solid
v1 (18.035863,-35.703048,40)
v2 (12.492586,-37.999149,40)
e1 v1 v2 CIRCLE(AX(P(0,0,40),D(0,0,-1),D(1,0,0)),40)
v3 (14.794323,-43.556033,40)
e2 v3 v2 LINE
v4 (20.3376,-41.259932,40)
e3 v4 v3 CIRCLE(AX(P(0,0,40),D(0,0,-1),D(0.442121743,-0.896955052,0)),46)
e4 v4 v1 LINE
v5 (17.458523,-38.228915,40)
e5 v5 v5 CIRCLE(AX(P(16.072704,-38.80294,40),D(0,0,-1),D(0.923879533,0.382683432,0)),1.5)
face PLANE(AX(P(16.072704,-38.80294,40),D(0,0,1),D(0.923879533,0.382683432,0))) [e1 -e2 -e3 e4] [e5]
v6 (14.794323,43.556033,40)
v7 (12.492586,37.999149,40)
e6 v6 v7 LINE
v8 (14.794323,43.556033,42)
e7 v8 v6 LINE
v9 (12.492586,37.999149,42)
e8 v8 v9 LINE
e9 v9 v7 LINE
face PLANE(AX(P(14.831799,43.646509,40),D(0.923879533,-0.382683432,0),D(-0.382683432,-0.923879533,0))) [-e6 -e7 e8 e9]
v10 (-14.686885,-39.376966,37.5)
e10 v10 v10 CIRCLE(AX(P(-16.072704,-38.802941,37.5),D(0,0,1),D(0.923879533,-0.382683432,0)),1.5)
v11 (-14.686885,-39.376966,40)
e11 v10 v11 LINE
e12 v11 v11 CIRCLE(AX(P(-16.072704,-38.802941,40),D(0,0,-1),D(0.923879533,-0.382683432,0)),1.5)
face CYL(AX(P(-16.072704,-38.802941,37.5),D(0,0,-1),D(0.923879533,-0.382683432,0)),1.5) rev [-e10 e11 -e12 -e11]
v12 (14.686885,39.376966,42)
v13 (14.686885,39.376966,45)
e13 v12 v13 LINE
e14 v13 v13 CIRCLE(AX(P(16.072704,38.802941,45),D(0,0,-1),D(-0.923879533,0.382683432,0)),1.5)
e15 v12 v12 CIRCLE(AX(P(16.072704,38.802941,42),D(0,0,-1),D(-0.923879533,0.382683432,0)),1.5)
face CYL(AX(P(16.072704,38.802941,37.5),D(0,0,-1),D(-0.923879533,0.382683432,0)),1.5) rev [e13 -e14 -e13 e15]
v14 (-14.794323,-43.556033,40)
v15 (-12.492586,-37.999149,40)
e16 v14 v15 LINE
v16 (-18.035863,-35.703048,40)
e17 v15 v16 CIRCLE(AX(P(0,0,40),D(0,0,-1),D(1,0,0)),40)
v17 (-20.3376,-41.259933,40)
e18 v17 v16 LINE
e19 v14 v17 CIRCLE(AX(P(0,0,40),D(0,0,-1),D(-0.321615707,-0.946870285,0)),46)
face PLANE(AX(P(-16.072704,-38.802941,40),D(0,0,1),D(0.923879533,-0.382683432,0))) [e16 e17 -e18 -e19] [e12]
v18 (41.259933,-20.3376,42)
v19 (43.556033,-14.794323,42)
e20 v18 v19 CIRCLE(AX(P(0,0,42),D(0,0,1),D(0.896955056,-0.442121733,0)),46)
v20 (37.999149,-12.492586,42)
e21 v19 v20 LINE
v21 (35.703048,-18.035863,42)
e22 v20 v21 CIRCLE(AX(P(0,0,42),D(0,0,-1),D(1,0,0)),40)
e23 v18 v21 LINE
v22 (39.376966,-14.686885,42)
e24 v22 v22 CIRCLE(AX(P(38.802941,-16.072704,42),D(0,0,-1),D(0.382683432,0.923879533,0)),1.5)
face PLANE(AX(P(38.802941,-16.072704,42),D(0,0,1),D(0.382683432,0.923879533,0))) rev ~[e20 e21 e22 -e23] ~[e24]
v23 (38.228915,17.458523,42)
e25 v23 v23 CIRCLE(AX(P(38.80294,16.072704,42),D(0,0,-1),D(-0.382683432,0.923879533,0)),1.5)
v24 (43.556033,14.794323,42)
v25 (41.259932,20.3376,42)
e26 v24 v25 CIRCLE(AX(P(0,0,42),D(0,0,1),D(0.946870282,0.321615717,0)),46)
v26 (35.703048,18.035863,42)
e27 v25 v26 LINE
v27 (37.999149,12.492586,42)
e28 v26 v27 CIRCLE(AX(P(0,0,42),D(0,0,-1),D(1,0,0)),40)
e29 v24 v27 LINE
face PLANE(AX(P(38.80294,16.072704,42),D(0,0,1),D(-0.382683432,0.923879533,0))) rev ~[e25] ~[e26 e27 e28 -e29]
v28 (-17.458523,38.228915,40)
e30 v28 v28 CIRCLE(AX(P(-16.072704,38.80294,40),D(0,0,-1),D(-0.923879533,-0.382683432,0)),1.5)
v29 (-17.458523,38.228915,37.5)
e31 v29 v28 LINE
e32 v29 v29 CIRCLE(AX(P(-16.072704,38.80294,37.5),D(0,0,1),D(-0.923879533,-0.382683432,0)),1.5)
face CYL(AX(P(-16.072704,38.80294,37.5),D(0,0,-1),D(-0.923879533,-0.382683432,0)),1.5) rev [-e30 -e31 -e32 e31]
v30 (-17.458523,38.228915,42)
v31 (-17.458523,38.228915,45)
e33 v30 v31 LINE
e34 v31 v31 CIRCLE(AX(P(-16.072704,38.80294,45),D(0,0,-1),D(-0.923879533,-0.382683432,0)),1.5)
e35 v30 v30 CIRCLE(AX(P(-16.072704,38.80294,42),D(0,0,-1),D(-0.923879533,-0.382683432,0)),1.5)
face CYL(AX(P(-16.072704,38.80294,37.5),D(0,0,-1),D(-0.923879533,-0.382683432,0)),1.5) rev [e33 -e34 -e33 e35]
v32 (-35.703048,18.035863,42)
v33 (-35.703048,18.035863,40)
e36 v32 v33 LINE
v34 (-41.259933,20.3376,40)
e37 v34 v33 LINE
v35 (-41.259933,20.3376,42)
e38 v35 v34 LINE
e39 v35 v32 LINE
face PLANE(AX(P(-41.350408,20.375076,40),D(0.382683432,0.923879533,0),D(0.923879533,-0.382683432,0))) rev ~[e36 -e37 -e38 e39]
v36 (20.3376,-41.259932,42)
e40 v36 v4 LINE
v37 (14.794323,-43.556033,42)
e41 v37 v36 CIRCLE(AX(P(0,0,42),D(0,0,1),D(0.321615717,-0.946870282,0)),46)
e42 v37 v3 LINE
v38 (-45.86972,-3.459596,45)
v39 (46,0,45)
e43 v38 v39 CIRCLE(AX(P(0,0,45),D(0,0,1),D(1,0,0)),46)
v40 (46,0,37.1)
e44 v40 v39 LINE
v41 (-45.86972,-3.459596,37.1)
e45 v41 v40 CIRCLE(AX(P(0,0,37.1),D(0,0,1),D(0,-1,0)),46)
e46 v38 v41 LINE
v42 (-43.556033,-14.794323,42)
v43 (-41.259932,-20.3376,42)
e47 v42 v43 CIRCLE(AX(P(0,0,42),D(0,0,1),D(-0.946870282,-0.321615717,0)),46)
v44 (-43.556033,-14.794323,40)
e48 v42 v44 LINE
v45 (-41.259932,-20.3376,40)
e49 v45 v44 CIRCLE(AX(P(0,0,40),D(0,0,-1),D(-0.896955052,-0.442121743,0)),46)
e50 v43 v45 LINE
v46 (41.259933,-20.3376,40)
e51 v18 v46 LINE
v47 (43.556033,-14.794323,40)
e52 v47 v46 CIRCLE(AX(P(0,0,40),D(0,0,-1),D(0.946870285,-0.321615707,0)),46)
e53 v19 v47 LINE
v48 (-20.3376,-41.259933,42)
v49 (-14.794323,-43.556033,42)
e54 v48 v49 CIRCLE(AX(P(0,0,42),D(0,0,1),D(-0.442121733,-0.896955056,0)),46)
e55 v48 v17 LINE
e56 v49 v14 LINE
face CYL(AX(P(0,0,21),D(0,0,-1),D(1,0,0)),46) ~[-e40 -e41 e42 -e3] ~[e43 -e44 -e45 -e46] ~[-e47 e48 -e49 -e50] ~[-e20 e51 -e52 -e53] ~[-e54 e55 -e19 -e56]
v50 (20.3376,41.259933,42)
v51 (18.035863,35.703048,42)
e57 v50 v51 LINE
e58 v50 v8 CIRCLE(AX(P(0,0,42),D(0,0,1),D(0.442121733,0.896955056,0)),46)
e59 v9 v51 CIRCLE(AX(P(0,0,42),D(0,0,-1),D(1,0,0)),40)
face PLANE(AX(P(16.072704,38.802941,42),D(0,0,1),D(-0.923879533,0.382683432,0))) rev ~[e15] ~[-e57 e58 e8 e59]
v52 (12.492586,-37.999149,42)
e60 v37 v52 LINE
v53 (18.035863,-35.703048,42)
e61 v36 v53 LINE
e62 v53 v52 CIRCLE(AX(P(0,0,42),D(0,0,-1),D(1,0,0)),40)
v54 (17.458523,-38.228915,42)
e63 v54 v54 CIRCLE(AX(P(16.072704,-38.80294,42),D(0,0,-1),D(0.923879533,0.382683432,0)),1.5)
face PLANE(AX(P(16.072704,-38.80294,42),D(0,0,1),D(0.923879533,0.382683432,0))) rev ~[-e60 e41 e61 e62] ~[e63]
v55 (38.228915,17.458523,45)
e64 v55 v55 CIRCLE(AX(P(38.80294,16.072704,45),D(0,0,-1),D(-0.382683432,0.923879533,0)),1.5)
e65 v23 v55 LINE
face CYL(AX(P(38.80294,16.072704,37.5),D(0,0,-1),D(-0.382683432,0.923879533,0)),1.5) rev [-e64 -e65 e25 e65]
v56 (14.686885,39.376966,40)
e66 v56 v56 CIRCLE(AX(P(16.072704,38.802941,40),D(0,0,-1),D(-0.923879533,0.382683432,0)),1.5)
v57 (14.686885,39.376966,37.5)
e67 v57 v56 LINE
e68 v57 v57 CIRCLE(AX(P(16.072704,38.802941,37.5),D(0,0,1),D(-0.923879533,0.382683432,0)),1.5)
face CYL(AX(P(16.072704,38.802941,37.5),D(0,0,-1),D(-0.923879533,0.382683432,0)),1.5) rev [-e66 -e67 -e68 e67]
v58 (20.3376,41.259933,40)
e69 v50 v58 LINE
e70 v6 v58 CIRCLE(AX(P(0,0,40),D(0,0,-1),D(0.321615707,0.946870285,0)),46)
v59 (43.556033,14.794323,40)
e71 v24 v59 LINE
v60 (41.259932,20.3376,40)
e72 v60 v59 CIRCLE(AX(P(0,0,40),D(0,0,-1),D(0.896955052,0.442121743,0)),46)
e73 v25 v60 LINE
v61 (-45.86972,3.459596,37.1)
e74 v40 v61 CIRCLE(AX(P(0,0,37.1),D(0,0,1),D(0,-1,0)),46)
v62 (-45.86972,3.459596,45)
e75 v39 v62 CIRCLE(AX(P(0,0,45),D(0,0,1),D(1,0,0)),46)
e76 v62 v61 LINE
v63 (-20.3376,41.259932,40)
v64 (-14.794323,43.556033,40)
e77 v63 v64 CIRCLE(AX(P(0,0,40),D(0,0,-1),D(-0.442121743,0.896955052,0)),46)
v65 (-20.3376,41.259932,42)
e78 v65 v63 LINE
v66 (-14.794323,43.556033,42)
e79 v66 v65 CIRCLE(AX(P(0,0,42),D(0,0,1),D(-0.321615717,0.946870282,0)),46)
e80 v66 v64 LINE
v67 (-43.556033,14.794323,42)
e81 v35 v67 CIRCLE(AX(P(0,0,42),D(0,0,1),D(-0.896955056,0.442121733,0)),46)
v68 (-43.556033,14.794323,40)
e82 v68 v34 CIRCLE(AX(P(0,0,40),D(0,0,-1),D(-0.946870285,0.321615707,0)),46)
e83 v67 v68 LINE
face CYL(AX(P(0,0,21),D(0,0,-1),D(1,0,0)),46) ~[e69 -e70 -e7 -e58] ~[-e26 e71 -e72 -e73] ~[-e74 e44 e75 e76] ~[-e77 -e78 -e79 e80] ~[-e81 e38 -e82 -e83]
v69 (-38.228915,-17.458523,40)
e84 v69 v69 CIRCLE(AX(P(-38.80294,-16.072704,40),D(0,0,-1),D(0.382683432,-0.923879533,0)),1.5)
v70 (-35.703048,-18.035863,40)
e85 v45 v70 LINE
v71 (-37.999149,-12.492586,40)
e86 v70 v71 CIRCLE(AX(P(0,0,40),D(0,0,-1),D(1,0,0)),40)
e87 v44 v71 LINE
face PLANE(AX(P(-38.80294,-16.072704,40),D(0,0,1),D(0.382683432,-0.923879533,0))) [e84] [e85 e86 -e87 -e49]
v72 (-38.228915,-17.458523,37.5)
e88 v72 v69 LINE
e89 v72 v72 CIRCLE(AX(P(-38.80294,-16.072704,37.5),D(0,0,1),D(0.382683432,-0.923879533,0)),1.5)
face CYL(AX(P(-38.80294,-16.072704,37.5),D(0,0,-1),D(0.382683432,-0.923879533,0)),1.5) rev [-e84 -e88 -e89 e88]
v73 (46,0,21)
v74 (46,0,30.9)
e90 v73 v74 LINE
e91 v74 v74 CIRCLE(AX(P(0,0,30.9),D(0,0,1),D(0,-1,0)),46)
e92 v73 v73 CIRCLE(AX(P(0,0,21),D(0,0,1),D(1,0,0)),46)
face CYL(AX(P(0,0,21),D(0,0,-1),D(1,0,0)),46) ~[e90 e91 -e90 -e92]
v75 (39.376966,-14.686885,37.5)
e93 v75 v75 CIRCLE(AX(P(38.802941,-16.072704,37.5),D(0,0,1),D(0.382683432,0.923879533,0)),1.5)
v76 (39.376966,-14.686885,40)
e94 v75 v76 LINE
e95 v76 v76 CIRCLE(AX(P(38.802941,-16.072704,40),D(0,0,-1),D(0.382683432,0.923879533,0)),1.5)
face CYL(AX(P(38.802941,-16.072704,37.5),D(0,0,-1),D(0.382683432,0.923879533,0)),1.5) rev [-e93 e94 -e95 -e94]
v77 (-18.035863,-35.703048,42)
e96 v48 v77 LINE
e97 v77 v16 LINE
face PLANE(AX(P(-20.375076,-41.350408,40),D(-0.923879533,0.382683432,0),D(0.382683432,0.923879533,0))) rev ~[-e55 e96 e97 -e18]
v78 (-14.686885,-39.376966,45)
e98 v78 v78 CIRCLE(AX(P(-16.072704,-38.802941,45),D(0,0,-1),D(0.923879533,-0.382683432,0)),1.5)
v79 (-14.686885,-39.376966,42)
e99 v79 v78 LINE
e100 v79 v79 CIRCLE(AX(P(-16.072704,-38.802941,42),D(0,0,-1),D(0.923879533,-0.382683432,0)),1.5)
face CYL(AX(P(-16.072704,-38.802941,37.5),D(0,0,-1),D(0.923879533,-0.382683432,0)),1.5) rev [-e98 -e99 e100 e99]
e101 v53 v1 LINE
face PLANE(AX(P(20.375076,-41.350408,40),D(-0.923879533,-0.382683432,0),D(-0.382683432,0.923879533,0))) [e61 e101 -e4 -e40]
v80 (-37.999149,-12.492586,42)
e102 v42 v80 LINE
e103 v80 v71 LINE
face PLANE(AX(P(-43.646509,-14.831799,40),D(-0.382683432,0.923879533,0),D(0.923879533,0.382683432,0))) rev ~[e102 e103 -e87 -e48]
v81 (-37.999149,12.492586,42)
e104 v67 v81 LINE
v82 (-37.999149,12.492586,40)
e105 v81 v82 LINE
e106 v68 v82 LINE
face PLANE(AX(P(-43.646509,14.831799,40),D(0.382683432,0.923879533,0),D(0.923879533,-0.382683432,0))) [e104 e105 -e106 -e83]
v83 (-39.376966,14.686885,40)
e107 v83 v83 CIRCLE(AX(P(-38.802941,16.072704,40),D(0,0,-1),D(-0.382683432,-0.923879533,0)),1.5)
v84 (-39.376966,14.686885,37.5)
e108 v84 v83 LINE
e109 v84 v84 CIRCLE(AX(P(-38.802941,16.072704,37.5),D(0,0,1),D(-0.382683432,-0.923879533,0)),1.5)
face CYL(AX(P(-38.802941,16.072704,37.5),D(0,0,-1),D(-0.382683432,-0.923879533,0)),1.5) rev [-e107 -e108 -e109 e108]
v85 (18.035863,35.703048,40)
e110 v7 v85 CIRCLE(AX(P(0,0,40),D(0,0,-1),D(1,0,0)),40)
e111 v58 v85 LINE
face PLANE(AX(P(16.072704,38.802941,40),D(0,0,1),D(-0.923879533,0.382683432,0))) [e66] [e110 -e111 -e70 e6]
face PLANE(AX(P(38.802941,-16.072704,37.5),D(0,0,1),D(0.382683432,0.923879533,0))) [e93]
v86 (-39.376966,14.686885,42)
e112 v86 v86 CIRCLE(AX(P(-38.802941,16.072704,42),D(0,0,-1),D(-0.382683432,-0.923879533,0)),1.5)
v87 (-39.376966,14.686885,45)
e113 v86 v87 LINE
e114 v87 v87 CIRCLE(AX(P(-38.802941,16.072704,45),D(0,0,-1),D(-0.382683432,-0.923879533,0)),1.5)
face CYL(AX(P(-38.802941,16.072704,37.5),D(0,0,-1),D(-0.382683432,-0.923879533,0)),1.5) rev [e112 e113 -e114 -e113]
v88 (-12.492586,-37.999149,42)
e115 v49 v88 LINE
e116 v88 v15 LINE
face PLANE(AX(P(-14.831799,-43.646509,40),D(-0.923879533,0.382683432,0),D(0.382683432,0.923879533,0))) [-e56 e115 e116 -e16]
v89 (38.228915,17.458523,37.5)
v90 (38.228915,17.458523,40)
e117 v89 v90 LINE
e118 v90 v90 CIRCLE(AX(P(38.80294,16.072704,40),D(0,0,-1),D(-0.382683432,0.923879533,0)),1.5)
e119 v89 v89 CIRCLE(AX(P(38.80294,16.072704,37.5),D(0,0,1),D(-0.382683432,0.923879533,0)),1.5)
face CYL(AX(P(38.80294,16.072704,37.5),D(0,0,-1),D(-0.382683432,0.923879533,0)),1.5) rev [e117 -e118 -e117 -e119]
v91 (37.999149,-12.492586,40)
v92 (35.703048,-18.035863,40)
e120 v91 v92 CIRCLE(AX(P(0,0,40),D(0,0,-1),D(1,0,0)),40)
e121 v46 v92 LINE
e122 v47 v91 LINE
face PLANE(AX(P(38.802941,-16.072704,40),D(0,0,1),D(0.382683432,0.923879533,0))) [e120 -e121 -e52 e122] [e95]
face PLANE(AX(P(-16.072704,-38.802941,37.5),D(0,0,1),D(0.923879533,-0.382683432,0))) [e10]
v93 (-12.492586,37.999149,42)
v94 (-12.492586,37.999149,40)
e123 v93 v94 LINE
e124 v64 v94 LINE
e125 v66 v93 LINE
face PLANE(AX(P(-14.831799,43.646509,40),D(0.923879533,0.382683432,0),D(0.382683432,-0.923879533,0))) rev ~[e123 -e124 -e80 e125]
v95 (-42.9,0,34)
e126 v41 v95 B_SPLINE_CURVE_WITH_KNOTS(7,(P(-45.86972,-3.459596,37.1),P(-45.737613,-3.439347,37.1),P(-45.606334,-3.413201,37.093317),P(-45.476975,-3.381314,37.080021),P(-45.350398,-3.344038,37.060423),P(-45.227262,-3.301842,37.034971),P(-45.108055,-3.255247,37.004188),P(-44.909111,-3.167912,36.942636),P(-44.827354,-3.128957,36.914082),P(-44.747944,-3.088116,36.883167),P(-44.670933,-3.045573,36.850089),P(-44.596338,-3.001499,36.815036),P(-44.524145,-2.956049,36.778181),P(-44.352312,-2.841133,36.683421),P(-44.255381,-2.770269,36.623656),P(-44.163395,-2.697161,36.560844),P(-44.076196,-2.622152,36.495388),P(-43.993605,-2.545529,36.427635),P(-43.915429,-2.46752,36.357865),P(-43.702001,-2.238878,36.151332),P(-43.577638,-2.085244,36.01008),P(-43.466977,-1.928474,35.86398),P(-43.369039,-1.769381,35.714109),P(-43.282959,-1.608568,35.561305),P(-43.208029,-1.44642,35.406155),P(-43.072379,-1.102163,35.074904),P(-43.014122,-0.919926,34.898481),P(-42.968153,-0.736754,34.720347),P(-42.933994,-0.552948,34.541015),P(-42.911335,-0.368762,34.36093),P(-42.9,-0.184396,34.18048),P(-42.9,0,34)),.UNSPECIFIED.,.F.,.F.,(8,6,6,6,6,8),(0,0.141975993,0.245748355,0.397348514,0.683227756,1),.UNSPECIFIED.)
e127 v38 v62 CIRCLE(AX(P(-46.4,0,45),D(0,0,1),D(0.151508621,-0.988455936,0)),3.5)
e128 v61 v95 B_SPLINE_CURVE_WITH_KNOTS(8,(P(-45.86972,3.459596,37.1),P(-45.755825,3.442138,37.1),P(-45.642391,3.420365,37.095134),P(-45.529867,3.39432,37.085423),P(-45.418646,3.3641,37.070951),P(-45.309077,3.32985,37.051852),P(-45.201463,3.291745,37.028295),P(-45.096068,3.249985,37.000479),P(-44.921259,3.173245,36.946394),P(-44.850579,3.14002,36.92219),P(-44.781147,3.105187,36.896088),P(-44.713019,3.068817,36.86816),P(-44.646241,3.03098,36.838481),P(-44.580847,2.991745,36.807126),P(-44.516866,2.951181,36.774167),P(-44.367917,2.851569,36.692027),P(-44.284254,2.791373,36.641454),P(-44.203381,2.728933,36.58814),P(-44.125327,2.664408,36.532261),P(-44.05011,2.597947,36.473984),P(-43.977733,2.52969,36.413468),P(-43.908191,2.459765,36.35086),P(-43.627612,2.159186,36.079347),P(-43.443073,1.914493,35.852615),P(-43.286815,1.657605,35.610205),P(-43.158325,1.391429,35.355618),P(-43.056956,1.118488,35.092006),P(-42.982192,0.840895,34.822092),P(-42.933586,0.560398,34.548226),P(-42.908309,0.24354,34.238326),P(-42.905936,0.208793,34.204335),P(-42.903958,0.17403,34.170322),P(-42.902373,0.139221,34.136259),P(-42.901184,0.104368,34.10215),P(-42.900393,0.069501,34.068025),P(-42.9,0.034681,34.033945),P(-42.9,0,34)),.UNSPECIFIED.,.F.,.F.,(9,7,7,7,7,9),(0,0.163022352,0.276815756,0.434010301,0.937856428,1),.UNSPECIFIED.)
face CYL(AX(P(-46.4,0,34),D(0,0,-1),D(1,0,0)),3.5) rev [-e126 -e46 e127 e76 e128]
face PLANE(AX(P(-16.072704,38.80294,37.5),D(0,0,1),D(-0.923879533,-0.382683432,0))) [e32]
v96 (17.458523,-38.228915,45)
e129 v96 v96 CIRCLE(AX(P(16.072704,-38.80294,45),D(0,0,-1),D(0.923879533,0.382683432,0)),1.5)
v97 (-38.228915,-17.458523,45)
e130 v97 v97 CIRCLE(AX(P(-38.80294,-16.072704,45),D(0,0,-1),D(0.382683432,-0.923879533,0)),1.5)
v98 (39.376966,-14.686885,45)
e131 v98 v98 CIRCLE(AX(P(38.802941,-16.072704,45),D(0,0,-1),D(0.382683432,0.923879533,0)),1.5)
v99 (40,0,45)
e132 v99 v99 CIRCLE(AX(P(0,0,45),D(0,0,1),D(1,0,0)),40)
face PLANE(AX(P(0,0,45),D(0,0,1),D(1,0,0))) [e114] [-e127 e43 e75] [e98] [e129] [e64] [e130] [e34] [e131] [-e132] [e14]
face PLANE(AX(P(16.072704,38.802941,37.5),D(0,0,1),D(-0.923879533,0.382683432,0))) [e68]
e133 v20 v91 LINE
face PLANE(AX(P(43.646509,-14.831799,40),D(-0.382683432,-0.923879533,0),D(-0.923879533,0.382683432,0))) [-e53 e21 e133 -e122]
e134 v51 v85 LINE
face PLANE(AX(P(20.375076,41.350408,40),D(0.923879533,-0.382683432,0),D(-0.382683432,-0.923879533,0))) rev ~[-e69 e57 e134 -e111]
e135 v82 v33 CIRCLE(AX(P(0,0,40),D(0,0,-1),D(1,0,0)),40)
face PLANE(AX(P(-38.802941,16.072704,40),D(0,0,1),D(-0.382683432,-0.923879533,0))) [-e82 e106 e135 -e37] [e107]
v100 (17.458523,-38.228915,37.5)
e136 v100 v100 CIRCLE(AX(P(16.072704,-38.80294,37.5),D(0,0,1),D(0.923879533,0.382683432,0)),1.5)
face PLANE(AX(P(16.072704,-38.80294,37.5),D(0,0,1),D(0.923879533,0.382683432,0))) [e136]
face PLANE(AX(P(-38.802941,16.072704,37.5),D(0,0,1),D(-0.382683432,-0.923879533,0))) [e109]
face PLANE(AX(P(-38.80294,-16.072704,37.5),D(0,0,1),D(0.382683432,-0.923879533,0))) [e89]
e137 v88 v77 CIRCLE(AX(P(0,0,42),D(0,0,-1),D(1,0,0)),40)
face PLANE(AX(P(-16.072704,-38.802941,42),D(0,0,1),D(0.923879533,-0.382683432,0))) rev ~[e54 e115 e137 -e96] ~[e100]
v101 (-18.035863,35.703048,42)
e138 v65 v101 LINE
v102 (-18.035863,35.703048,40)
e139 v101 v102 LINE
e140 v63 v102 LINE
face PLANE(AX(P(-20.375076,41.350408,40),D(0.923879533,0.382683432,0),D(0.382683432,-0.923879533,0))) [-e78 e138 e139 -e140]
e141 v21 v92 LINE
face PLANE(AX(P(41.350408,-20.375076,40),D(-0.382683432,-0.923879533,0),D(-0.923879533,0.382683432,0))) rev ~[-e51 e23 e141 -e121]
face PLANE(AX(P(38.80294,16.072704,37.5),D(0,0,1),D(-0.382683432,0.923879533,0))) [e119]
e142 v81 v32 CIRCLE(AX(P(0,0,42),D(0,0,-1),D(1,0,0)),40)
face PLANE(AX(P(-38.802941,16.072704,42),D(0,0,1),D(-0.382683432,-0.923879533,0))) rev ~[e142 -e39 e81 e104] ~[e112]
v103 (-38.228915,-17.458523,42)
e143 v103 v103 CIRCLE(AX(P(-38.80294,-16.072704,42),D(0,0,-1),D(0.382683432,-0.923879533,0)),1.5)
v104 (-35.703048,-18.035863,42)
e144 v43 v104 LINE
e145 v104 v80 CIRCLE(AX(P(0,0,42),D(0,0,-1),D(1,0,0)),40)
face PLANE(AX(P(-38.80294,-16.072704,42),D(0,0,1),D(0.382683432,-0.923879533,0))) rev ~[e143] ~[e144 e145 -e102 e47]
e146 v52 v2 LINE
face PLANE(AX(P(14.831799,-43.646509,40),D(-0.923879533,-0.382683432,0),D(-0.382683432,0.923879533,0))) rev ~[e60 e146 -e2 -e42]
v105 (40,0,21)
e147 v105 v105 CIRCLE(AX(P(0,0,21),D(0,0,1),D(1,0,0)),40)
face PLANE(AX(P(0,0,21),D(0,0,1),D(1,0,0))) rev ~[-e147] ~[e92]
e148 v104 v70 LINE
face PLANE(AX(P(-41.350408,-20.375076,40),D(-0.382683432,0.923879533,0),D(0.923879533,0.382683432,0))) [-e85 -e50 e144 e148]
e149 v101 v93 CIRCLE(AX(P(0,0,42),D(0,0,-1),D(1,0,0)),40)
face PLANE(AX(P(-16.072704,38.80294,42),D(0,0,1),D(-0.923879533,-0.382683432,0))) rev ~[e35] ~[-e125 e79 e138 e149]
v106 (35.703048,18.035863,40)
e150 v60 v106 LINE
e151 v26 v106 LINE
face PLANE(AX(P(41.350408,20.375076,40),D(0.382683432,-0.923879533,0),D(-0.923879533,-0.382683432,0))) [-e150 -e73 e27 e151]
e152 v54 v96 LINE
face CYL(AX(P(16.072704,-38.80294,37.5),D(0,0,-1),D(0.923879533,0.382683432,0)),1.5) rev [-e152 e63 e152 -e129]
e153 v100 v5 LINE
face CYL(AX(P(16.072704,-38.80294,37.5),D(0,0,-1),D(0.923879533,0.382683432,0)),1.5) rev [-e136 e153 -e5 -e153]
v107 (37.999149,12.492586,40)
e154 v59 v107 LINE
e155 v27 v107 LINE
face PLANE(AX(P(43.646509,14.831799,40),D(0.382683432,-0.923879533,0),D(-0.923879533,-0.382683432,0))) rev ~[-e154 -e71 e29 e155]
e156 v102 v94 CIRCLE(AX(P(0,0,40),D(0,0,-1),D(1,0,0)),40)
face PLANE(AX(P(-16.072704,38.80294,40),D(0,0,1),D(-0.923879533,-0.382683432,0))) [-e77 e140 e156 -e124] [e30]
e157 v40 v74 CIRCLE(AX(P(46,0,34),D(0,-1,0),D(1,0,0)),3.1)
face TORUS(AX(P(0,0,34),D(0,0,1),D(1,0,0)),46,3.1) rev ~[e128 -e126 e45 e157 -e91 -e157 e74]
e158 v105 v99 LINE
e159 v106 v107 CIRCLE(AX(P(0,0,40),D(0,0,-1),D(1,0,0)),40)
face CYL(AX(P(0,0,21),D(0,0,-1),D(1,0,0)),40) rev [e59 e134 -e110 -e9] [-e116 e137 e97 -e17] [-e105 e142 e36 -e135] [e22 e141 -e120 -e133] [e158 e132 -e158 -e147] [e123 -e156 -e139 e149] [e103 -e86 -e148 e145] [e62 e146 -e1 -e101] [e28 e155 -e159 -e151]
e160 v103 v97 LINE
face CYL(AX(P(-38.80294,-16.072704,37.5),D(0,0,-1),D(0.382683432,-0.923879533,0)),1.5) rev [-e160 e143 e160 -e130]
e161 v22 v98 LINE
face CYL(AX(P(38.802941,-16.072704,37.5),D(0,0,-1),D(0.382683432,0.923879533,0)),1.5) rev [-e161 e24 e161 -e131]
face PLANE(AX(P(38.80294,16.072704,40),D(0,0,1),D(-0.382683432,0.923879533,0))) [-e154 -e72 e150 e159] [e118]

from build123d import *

# Parameters (mm, degrees)
BOX445_W                     = 6
BOX445_H                     = 8
BOX445_DEPTH                 = 2
BOX445_PLACEMENT_ANGLE       = 45
BOX443_W                     = 6
BOX443_H                     = 8
BOX443_DEPTH                 = 2
BOX442_W                     = 6
BOX442_H                     = 8
BOX442_DEPTH                 = 2
BOX447_W                     = 6
BOX447_H                     = 8
BOX447_DEPTH                 = 2
BOX447_PLACEMENT_ANGLE       = 135
BOX446_W                     = 6
BOX446_H                     = 8
BOX446_DEPTH                 = 2
BOX441_W                     = 6
BOX441_H                     = 8
BOX441_DEPTH                 = 2
BOX441_PLACEMENT_ANGLE       = 225
BOX444_W                     = 6
BOX444_H                     = 8
BOX444_DEPTH                 = 2
BOX437_W                     = 6
BOX437_H                     = 8
BOX437_DEPTH                 = 2
BOX437_PLACEMENT_ANGLE       = 45
COMPOUND869_PLACEMENT_ANGLE  = 22.5
CYLINDER1133_R               = 1.5
CYLINDER1133_DEPTH           = 32
CYLINDER1133_PLACEMENT_ANGLE = 45
CYLINDER1132_R               = 1.5
CYLINDER1132_DEPTH           = 32
CYLINDER1131_R               = 1.5
CYLINDER1131_DEPTH           = 32
CYLINDER1131_PLACEMENT_ANGLE = 135
CYLINDER1123_R               = 1.5
CYLINDER1123_DEPTH           = 32
CYLINDER1129_R               = 1.5
CYLINDER1129_DEPTH           = 32
CYLINDER1129_PLACEMENT_ANGLE = 225
CYLINDER1130_R               = 1.5
CYLINDER1130_DEPTH           = 32
CYLINDER1118_R               = 1.5
CYLINDER1118_DEPTH           = 32
CYLINDER1118_PLACEMENT_ANGLE = 45
CYLINDER1121_R               = 1.5
CYLINDER1121_DEPTH           = 32
COMPOUND871_PLACEMENT_ANGLE  = 22.5
CYLINDER1114_R               = 3.5
CYLINDER1114_DEPTH           = 20
TORUS009_R                   = 3.1
TUBE100_R                    = 46
TUBE100_R_2                  = 40
TUBE100_DEPTH                = 24


with BuildPart() as krychle445:
    # Box445 → Box445 (new body)
    with BuildSketch(Plane.XY):
        with Locations((3, 4)):
            Rectangle(BOX445_W, BOX445_H)
    extrude(amount=BOX445_DEPTH)


with BuildPart() as krychle445_1:
    # Box445 placement: moved
    add(krychle445.part.moved(Location((30.405592, -34.648232, 33))).rotate(Axis((30.405592, -34.648232, 33), (0, 0, 1)), BOX445_PLACEMENT_ANGLE))


with BuildPart() as krychle443:
    # Box443 → Box443 (new body)
    with BuildSketch(Plane(origin=(46, -3, 33), x_dir=(0, 1, 0), z_dir=(0, 0, 1))):
        with Locations((3, 4)):
            Rectangle(BOX443_W, BOX443_H)
    extrude(amount=BOX443_DEPTH)


with BuildPart() as krychle442:
    # Box442 → Box442 (new body)
    with BuildSketch(Plane(origin=(-3, -46, 33), x_dir=(1, 0, 0), z_dir=(0, 0, 1))):
        with Locations((3, 4)):
            Rectangle(BOX442_W, BOX442_H)
    extrude(amount=BOX442_DEPTH)


with BuildPart() as krychle447:
    # Box447 → Box447 (new body)
    with BuildSketch(Plane.XY):
        with Locations((3, 4)):
            Rectangle(BOX447_W, BOX447_H)
    extrude(amount=BOX447_DEPTH)


with BuildPart() as krychle447_1:
    # Box447 placement: moved
    add(krychle447.part.moved(Location((34.648232, 30.405592, 33))).rotate(Axis((34.648232, 30.405592, 33), (0, 0, 1)), BOX447_PLACEMENT_ANGLE))


with BuildPart() as krychle446:
    # Box446 → Box446 (new body)
    with BuildSketch(Plane(origin=(3, 46, 33), x_dir=(-1, 0, 0), z_dir=(0, 0, 1))):
        with Locations((3, 4)):
            Rectangle(BOX446_W, BOX446_H)
    extrude(amount=BOX446_DEPTH)


with BuildPart() as krychle441:
    # Box441 → Box441 (new body)
    with BuildSketch(Plane.XY):
        with Locations((3, 4)):
            Rectangle(BOX441_W, BOX441_H)
    extrude(amount=BOX441_DEPTH)


with BuildPart() as krychle441_1:
    # Box441 placement: moved
    add(krychle441.part.moved(Location((-30.405592, 34.648232, 33))).rotate(Axis((-30.405592, 34.648232, 33), (0, 0, 1)), BOX441_PLACEMENT_ANGLE))


with BuildPart() as krychle444:
    # Box444 → Box444 (new body)
    with BuildSketch(Plane(origin=(-46, 3, 33), x_dir=(0, -1, 0), z_dir=(0, 0, 1))):
        with Locations((3, 4)):
            Rectangle(BOX444_W, BOX444_H)
    extrude(amount=BOX444_DEPTH)


with BuildPart() as compound869:
    # Box437 → Box437 (new body)
    with BuildSketch(Plane.XY):
        with Locations((3, 4)):
            Rectangle(BOX437_W, BOX437_H)
    extrude(amount=BOX437_DEPTH)


with BuildPart() as compound869_1:
    # Box437 placement: moved
    add(compound869.part.moved(Location((-34.648232, -30.405592, 33))).rotate(Axis((-34.648232, -30.405592, 33), (0, 0, -1)), BOX437_PLACEMENT_ANGLE))

    # Compound869: union Krychle445, Krychle443, Krychle442, Krychle447, Krychle446, Krychle441, Krychle444
    add(krychle445_1.part)
    add(krychle443.part)
    add(krychle442.part)
    add(krychle447_1.part)
    add(krychle446.part)
    add(krychle441_1.part)
    add(krychle444.part)


with BuildPart() as compound869_2:
    # Compound869 placement: moved
    add(compound869_1.part.moved(Location((0, 0, 7))).rotate(Axis((0, 0, 7), (0, 0, 1)), COMPOUND869_PLACEMENT_ANGLE))


with BuildPart() as v_lec1133:
    # Cylinder1133 → Cylinder1133 (new body)
    with BuildSketch(Plane.XY):
        Circle(CYLINDER1133_R)
    extrude(amount=CYLINDER1133_DEPTH)


with BuildPart() as v_lec1133_1:
    # Cylinder1133 placement: moved
    add(v_lec1133.part.moved(Location((29.698485, -29.698485, 33.5))).rotate(Axis((29.698485, -29.698485, 33.5), (0, 0, 1)), CYLINDER1133_PLACEMENT_ANGLE))


with BuildPart() as v_lec1132:
    # Cylinder1132 → Cylinder1132 (new body)
    with BuildSketch(Plane(origin=(42, 0, 33.5), x_dir=(0, 1, 0), z_dir=(0, 0, 1))):
        Circle(CYLINDER1132_R)
    extrude(amount=CYLINDER1132_DEPTH)


with BuildPart() as v_lec1131:
    # Cylinder1131 → Cylinder1131 (new body)
    with BuildSketch(Plane.XY):
        Circle(CYLINDER1131_R)
    extrude(amount=CYLINDER1131_DEPTH)


with BuildPart() as v_lec1131_1:
    # Cylinder1131 placement: moved
    add(v_lec1131.part.moved(Location((29.698485, 29.698485, 33.5))).rotate(Axis((29.698485, 29.698485, 33.5), (0, 0, 1)), CYLINDER1131_PLACEMENT_ANGLE))


with BuildPart() as v_lec1123:
    # Cylinder1123 → Cylinder1123 (new body)
    with BuildSketch(Plane(origin=(0, 42, 33.5), x_dir=(-1, 0, 0), z_dir=(0, 0, 1))):
        Circle(CYLINDER1123_R)
    extrude(amount=CYLINDER1123_DEPTH)


with BuildPart() as v_lec1129:
    # Cylinder1129 → Cylinder1129 (new body)
    with BuildSketch(Plane.XY):
        Circle(CYLINDER1129_R)
    extrude(amount=CYLINDER1129_DEPTH)


with BuildPart() as v_lec1129_1:
    # Cylinder1129 placement: moved
    add(v_lec1129.part.moved(Location((-29.698485, 29.698485, 33.5))).rotate(Axis((-29.698485, 29.698485, 33.5), (0, 0, 1)), CYLINDER1129_PLACEMENT_ANGLE))


with BuildPart() as v_lec1130:
    # Cylinder1130 → Cylinder1130 (new body)
    with BuildSketch(Plane(origin=(-42, 0, 33.5), x_dir=(0, -1, 0), z_dir=(0, 0, 1))):
        Circle(CYLINDER1130_R)
    extrude(amount=CYLINDER1130_DEPTH)


with BuildPart() as v_lec1118:
    # Cylinder1118 → Cylinder1118 (new body)
    with BuildSketch(Plane.XY):
        Circle(CYLINDER1118_R)
    extrude(amount=CYLINDER1118_DEPTH)


with BuildPart() as v_lec1118_1:
    # Cylinder1118 placement: moved
    add(v_lec1118.part.moved(Location((-29.698485, -29.698485, 33.5))).rotate(Axis((-29.698485, -29.698485, 33.5), (0, 0, -1)), CYLINDER1118_PLACEMENT_ANGLE))


with BuildPart() as compound871:
    # Cylinder1121 → Cylinder1121 (new body)
    with BuildSketch(Plane(origin=(0, -42, 33.5), x_dir=(1, 0, 0), z_dir=(0, 0, 1))):
        Circle(CYLINDER1121_R)
    extrude(amount=CYLINDER1121_DEPTH)

    # Compound871: union Válec1133, Válec1132, Válec1131, Válec1123, Válec1129, Válec1130, Válec1118
    add(v_lec1133_1.part)
    add(v_lec1132.part)
    add(v_lec1131_1.part)
    add(v_lec1123.part)
    add(v_lec1129_1.part)
    add(v_lec1130.part)
    add(v_lec1118_1.part)


with BuildPart() as compound871_1:
    # Compound871 placement: moved
    add(compound871.part.moved(Location((0, 0, 4))).rotate(Axis((0, 0, 4), (0, 0, 1)), COMPOUND871_PLACEMENT_ANGLE))


with BuildPart() as v_lec1114:
    # Cylinder1114 → Cylinder1114 (new body)
    with BuildSketch(Plane(origin=(-46.4, 0, 34), x_dir=(1, 0, 0), z_dir=(0, 0, 1))):
        Circle(CYLINDER1114_R)
    extrude(amount=CYLINDER1114_DEPTH)


with BuildPart() as anuloid009:
    # Torus009 → Torus009 (revolve)
    with BuildSketch(Plane(origin=(0, 0, 34), x_dir=(1, 0, 0), z_dir=(0, -1, 0))):
        with Locations((46, 0)):
            Circle(TORUS009_R)
    revolve(axis=Axis((0, 0, 34), (0, 0, 1)))


with BuildPart() as cut421:
    # Tube100 → Tube100 (new body)
    with BuildSketch(Plane.XY.offset(21)):
        Circle(TUBE100_R)
        Circle(TUBE100_R_2, mode=Mode.SUBTRACT)
    extrude(amount=TUBE100_DEPTH)

    # Cut419: cut Anuloid009
    add(anuloid009.part, mode=Mode.SUBTRACT)

    # Cut426: cut Válec1114
    add(v_lec1114.part, mode=Mode.SUBTRACT)

    # Cut420: cut Compound871
    add(compound871_1.part, mode=Mode.SUBTRACT)

    # Cut421: cut Compound869
    add(compound869_2.part, mode=Mode.SUBTRACT)


solid = cut421.part
